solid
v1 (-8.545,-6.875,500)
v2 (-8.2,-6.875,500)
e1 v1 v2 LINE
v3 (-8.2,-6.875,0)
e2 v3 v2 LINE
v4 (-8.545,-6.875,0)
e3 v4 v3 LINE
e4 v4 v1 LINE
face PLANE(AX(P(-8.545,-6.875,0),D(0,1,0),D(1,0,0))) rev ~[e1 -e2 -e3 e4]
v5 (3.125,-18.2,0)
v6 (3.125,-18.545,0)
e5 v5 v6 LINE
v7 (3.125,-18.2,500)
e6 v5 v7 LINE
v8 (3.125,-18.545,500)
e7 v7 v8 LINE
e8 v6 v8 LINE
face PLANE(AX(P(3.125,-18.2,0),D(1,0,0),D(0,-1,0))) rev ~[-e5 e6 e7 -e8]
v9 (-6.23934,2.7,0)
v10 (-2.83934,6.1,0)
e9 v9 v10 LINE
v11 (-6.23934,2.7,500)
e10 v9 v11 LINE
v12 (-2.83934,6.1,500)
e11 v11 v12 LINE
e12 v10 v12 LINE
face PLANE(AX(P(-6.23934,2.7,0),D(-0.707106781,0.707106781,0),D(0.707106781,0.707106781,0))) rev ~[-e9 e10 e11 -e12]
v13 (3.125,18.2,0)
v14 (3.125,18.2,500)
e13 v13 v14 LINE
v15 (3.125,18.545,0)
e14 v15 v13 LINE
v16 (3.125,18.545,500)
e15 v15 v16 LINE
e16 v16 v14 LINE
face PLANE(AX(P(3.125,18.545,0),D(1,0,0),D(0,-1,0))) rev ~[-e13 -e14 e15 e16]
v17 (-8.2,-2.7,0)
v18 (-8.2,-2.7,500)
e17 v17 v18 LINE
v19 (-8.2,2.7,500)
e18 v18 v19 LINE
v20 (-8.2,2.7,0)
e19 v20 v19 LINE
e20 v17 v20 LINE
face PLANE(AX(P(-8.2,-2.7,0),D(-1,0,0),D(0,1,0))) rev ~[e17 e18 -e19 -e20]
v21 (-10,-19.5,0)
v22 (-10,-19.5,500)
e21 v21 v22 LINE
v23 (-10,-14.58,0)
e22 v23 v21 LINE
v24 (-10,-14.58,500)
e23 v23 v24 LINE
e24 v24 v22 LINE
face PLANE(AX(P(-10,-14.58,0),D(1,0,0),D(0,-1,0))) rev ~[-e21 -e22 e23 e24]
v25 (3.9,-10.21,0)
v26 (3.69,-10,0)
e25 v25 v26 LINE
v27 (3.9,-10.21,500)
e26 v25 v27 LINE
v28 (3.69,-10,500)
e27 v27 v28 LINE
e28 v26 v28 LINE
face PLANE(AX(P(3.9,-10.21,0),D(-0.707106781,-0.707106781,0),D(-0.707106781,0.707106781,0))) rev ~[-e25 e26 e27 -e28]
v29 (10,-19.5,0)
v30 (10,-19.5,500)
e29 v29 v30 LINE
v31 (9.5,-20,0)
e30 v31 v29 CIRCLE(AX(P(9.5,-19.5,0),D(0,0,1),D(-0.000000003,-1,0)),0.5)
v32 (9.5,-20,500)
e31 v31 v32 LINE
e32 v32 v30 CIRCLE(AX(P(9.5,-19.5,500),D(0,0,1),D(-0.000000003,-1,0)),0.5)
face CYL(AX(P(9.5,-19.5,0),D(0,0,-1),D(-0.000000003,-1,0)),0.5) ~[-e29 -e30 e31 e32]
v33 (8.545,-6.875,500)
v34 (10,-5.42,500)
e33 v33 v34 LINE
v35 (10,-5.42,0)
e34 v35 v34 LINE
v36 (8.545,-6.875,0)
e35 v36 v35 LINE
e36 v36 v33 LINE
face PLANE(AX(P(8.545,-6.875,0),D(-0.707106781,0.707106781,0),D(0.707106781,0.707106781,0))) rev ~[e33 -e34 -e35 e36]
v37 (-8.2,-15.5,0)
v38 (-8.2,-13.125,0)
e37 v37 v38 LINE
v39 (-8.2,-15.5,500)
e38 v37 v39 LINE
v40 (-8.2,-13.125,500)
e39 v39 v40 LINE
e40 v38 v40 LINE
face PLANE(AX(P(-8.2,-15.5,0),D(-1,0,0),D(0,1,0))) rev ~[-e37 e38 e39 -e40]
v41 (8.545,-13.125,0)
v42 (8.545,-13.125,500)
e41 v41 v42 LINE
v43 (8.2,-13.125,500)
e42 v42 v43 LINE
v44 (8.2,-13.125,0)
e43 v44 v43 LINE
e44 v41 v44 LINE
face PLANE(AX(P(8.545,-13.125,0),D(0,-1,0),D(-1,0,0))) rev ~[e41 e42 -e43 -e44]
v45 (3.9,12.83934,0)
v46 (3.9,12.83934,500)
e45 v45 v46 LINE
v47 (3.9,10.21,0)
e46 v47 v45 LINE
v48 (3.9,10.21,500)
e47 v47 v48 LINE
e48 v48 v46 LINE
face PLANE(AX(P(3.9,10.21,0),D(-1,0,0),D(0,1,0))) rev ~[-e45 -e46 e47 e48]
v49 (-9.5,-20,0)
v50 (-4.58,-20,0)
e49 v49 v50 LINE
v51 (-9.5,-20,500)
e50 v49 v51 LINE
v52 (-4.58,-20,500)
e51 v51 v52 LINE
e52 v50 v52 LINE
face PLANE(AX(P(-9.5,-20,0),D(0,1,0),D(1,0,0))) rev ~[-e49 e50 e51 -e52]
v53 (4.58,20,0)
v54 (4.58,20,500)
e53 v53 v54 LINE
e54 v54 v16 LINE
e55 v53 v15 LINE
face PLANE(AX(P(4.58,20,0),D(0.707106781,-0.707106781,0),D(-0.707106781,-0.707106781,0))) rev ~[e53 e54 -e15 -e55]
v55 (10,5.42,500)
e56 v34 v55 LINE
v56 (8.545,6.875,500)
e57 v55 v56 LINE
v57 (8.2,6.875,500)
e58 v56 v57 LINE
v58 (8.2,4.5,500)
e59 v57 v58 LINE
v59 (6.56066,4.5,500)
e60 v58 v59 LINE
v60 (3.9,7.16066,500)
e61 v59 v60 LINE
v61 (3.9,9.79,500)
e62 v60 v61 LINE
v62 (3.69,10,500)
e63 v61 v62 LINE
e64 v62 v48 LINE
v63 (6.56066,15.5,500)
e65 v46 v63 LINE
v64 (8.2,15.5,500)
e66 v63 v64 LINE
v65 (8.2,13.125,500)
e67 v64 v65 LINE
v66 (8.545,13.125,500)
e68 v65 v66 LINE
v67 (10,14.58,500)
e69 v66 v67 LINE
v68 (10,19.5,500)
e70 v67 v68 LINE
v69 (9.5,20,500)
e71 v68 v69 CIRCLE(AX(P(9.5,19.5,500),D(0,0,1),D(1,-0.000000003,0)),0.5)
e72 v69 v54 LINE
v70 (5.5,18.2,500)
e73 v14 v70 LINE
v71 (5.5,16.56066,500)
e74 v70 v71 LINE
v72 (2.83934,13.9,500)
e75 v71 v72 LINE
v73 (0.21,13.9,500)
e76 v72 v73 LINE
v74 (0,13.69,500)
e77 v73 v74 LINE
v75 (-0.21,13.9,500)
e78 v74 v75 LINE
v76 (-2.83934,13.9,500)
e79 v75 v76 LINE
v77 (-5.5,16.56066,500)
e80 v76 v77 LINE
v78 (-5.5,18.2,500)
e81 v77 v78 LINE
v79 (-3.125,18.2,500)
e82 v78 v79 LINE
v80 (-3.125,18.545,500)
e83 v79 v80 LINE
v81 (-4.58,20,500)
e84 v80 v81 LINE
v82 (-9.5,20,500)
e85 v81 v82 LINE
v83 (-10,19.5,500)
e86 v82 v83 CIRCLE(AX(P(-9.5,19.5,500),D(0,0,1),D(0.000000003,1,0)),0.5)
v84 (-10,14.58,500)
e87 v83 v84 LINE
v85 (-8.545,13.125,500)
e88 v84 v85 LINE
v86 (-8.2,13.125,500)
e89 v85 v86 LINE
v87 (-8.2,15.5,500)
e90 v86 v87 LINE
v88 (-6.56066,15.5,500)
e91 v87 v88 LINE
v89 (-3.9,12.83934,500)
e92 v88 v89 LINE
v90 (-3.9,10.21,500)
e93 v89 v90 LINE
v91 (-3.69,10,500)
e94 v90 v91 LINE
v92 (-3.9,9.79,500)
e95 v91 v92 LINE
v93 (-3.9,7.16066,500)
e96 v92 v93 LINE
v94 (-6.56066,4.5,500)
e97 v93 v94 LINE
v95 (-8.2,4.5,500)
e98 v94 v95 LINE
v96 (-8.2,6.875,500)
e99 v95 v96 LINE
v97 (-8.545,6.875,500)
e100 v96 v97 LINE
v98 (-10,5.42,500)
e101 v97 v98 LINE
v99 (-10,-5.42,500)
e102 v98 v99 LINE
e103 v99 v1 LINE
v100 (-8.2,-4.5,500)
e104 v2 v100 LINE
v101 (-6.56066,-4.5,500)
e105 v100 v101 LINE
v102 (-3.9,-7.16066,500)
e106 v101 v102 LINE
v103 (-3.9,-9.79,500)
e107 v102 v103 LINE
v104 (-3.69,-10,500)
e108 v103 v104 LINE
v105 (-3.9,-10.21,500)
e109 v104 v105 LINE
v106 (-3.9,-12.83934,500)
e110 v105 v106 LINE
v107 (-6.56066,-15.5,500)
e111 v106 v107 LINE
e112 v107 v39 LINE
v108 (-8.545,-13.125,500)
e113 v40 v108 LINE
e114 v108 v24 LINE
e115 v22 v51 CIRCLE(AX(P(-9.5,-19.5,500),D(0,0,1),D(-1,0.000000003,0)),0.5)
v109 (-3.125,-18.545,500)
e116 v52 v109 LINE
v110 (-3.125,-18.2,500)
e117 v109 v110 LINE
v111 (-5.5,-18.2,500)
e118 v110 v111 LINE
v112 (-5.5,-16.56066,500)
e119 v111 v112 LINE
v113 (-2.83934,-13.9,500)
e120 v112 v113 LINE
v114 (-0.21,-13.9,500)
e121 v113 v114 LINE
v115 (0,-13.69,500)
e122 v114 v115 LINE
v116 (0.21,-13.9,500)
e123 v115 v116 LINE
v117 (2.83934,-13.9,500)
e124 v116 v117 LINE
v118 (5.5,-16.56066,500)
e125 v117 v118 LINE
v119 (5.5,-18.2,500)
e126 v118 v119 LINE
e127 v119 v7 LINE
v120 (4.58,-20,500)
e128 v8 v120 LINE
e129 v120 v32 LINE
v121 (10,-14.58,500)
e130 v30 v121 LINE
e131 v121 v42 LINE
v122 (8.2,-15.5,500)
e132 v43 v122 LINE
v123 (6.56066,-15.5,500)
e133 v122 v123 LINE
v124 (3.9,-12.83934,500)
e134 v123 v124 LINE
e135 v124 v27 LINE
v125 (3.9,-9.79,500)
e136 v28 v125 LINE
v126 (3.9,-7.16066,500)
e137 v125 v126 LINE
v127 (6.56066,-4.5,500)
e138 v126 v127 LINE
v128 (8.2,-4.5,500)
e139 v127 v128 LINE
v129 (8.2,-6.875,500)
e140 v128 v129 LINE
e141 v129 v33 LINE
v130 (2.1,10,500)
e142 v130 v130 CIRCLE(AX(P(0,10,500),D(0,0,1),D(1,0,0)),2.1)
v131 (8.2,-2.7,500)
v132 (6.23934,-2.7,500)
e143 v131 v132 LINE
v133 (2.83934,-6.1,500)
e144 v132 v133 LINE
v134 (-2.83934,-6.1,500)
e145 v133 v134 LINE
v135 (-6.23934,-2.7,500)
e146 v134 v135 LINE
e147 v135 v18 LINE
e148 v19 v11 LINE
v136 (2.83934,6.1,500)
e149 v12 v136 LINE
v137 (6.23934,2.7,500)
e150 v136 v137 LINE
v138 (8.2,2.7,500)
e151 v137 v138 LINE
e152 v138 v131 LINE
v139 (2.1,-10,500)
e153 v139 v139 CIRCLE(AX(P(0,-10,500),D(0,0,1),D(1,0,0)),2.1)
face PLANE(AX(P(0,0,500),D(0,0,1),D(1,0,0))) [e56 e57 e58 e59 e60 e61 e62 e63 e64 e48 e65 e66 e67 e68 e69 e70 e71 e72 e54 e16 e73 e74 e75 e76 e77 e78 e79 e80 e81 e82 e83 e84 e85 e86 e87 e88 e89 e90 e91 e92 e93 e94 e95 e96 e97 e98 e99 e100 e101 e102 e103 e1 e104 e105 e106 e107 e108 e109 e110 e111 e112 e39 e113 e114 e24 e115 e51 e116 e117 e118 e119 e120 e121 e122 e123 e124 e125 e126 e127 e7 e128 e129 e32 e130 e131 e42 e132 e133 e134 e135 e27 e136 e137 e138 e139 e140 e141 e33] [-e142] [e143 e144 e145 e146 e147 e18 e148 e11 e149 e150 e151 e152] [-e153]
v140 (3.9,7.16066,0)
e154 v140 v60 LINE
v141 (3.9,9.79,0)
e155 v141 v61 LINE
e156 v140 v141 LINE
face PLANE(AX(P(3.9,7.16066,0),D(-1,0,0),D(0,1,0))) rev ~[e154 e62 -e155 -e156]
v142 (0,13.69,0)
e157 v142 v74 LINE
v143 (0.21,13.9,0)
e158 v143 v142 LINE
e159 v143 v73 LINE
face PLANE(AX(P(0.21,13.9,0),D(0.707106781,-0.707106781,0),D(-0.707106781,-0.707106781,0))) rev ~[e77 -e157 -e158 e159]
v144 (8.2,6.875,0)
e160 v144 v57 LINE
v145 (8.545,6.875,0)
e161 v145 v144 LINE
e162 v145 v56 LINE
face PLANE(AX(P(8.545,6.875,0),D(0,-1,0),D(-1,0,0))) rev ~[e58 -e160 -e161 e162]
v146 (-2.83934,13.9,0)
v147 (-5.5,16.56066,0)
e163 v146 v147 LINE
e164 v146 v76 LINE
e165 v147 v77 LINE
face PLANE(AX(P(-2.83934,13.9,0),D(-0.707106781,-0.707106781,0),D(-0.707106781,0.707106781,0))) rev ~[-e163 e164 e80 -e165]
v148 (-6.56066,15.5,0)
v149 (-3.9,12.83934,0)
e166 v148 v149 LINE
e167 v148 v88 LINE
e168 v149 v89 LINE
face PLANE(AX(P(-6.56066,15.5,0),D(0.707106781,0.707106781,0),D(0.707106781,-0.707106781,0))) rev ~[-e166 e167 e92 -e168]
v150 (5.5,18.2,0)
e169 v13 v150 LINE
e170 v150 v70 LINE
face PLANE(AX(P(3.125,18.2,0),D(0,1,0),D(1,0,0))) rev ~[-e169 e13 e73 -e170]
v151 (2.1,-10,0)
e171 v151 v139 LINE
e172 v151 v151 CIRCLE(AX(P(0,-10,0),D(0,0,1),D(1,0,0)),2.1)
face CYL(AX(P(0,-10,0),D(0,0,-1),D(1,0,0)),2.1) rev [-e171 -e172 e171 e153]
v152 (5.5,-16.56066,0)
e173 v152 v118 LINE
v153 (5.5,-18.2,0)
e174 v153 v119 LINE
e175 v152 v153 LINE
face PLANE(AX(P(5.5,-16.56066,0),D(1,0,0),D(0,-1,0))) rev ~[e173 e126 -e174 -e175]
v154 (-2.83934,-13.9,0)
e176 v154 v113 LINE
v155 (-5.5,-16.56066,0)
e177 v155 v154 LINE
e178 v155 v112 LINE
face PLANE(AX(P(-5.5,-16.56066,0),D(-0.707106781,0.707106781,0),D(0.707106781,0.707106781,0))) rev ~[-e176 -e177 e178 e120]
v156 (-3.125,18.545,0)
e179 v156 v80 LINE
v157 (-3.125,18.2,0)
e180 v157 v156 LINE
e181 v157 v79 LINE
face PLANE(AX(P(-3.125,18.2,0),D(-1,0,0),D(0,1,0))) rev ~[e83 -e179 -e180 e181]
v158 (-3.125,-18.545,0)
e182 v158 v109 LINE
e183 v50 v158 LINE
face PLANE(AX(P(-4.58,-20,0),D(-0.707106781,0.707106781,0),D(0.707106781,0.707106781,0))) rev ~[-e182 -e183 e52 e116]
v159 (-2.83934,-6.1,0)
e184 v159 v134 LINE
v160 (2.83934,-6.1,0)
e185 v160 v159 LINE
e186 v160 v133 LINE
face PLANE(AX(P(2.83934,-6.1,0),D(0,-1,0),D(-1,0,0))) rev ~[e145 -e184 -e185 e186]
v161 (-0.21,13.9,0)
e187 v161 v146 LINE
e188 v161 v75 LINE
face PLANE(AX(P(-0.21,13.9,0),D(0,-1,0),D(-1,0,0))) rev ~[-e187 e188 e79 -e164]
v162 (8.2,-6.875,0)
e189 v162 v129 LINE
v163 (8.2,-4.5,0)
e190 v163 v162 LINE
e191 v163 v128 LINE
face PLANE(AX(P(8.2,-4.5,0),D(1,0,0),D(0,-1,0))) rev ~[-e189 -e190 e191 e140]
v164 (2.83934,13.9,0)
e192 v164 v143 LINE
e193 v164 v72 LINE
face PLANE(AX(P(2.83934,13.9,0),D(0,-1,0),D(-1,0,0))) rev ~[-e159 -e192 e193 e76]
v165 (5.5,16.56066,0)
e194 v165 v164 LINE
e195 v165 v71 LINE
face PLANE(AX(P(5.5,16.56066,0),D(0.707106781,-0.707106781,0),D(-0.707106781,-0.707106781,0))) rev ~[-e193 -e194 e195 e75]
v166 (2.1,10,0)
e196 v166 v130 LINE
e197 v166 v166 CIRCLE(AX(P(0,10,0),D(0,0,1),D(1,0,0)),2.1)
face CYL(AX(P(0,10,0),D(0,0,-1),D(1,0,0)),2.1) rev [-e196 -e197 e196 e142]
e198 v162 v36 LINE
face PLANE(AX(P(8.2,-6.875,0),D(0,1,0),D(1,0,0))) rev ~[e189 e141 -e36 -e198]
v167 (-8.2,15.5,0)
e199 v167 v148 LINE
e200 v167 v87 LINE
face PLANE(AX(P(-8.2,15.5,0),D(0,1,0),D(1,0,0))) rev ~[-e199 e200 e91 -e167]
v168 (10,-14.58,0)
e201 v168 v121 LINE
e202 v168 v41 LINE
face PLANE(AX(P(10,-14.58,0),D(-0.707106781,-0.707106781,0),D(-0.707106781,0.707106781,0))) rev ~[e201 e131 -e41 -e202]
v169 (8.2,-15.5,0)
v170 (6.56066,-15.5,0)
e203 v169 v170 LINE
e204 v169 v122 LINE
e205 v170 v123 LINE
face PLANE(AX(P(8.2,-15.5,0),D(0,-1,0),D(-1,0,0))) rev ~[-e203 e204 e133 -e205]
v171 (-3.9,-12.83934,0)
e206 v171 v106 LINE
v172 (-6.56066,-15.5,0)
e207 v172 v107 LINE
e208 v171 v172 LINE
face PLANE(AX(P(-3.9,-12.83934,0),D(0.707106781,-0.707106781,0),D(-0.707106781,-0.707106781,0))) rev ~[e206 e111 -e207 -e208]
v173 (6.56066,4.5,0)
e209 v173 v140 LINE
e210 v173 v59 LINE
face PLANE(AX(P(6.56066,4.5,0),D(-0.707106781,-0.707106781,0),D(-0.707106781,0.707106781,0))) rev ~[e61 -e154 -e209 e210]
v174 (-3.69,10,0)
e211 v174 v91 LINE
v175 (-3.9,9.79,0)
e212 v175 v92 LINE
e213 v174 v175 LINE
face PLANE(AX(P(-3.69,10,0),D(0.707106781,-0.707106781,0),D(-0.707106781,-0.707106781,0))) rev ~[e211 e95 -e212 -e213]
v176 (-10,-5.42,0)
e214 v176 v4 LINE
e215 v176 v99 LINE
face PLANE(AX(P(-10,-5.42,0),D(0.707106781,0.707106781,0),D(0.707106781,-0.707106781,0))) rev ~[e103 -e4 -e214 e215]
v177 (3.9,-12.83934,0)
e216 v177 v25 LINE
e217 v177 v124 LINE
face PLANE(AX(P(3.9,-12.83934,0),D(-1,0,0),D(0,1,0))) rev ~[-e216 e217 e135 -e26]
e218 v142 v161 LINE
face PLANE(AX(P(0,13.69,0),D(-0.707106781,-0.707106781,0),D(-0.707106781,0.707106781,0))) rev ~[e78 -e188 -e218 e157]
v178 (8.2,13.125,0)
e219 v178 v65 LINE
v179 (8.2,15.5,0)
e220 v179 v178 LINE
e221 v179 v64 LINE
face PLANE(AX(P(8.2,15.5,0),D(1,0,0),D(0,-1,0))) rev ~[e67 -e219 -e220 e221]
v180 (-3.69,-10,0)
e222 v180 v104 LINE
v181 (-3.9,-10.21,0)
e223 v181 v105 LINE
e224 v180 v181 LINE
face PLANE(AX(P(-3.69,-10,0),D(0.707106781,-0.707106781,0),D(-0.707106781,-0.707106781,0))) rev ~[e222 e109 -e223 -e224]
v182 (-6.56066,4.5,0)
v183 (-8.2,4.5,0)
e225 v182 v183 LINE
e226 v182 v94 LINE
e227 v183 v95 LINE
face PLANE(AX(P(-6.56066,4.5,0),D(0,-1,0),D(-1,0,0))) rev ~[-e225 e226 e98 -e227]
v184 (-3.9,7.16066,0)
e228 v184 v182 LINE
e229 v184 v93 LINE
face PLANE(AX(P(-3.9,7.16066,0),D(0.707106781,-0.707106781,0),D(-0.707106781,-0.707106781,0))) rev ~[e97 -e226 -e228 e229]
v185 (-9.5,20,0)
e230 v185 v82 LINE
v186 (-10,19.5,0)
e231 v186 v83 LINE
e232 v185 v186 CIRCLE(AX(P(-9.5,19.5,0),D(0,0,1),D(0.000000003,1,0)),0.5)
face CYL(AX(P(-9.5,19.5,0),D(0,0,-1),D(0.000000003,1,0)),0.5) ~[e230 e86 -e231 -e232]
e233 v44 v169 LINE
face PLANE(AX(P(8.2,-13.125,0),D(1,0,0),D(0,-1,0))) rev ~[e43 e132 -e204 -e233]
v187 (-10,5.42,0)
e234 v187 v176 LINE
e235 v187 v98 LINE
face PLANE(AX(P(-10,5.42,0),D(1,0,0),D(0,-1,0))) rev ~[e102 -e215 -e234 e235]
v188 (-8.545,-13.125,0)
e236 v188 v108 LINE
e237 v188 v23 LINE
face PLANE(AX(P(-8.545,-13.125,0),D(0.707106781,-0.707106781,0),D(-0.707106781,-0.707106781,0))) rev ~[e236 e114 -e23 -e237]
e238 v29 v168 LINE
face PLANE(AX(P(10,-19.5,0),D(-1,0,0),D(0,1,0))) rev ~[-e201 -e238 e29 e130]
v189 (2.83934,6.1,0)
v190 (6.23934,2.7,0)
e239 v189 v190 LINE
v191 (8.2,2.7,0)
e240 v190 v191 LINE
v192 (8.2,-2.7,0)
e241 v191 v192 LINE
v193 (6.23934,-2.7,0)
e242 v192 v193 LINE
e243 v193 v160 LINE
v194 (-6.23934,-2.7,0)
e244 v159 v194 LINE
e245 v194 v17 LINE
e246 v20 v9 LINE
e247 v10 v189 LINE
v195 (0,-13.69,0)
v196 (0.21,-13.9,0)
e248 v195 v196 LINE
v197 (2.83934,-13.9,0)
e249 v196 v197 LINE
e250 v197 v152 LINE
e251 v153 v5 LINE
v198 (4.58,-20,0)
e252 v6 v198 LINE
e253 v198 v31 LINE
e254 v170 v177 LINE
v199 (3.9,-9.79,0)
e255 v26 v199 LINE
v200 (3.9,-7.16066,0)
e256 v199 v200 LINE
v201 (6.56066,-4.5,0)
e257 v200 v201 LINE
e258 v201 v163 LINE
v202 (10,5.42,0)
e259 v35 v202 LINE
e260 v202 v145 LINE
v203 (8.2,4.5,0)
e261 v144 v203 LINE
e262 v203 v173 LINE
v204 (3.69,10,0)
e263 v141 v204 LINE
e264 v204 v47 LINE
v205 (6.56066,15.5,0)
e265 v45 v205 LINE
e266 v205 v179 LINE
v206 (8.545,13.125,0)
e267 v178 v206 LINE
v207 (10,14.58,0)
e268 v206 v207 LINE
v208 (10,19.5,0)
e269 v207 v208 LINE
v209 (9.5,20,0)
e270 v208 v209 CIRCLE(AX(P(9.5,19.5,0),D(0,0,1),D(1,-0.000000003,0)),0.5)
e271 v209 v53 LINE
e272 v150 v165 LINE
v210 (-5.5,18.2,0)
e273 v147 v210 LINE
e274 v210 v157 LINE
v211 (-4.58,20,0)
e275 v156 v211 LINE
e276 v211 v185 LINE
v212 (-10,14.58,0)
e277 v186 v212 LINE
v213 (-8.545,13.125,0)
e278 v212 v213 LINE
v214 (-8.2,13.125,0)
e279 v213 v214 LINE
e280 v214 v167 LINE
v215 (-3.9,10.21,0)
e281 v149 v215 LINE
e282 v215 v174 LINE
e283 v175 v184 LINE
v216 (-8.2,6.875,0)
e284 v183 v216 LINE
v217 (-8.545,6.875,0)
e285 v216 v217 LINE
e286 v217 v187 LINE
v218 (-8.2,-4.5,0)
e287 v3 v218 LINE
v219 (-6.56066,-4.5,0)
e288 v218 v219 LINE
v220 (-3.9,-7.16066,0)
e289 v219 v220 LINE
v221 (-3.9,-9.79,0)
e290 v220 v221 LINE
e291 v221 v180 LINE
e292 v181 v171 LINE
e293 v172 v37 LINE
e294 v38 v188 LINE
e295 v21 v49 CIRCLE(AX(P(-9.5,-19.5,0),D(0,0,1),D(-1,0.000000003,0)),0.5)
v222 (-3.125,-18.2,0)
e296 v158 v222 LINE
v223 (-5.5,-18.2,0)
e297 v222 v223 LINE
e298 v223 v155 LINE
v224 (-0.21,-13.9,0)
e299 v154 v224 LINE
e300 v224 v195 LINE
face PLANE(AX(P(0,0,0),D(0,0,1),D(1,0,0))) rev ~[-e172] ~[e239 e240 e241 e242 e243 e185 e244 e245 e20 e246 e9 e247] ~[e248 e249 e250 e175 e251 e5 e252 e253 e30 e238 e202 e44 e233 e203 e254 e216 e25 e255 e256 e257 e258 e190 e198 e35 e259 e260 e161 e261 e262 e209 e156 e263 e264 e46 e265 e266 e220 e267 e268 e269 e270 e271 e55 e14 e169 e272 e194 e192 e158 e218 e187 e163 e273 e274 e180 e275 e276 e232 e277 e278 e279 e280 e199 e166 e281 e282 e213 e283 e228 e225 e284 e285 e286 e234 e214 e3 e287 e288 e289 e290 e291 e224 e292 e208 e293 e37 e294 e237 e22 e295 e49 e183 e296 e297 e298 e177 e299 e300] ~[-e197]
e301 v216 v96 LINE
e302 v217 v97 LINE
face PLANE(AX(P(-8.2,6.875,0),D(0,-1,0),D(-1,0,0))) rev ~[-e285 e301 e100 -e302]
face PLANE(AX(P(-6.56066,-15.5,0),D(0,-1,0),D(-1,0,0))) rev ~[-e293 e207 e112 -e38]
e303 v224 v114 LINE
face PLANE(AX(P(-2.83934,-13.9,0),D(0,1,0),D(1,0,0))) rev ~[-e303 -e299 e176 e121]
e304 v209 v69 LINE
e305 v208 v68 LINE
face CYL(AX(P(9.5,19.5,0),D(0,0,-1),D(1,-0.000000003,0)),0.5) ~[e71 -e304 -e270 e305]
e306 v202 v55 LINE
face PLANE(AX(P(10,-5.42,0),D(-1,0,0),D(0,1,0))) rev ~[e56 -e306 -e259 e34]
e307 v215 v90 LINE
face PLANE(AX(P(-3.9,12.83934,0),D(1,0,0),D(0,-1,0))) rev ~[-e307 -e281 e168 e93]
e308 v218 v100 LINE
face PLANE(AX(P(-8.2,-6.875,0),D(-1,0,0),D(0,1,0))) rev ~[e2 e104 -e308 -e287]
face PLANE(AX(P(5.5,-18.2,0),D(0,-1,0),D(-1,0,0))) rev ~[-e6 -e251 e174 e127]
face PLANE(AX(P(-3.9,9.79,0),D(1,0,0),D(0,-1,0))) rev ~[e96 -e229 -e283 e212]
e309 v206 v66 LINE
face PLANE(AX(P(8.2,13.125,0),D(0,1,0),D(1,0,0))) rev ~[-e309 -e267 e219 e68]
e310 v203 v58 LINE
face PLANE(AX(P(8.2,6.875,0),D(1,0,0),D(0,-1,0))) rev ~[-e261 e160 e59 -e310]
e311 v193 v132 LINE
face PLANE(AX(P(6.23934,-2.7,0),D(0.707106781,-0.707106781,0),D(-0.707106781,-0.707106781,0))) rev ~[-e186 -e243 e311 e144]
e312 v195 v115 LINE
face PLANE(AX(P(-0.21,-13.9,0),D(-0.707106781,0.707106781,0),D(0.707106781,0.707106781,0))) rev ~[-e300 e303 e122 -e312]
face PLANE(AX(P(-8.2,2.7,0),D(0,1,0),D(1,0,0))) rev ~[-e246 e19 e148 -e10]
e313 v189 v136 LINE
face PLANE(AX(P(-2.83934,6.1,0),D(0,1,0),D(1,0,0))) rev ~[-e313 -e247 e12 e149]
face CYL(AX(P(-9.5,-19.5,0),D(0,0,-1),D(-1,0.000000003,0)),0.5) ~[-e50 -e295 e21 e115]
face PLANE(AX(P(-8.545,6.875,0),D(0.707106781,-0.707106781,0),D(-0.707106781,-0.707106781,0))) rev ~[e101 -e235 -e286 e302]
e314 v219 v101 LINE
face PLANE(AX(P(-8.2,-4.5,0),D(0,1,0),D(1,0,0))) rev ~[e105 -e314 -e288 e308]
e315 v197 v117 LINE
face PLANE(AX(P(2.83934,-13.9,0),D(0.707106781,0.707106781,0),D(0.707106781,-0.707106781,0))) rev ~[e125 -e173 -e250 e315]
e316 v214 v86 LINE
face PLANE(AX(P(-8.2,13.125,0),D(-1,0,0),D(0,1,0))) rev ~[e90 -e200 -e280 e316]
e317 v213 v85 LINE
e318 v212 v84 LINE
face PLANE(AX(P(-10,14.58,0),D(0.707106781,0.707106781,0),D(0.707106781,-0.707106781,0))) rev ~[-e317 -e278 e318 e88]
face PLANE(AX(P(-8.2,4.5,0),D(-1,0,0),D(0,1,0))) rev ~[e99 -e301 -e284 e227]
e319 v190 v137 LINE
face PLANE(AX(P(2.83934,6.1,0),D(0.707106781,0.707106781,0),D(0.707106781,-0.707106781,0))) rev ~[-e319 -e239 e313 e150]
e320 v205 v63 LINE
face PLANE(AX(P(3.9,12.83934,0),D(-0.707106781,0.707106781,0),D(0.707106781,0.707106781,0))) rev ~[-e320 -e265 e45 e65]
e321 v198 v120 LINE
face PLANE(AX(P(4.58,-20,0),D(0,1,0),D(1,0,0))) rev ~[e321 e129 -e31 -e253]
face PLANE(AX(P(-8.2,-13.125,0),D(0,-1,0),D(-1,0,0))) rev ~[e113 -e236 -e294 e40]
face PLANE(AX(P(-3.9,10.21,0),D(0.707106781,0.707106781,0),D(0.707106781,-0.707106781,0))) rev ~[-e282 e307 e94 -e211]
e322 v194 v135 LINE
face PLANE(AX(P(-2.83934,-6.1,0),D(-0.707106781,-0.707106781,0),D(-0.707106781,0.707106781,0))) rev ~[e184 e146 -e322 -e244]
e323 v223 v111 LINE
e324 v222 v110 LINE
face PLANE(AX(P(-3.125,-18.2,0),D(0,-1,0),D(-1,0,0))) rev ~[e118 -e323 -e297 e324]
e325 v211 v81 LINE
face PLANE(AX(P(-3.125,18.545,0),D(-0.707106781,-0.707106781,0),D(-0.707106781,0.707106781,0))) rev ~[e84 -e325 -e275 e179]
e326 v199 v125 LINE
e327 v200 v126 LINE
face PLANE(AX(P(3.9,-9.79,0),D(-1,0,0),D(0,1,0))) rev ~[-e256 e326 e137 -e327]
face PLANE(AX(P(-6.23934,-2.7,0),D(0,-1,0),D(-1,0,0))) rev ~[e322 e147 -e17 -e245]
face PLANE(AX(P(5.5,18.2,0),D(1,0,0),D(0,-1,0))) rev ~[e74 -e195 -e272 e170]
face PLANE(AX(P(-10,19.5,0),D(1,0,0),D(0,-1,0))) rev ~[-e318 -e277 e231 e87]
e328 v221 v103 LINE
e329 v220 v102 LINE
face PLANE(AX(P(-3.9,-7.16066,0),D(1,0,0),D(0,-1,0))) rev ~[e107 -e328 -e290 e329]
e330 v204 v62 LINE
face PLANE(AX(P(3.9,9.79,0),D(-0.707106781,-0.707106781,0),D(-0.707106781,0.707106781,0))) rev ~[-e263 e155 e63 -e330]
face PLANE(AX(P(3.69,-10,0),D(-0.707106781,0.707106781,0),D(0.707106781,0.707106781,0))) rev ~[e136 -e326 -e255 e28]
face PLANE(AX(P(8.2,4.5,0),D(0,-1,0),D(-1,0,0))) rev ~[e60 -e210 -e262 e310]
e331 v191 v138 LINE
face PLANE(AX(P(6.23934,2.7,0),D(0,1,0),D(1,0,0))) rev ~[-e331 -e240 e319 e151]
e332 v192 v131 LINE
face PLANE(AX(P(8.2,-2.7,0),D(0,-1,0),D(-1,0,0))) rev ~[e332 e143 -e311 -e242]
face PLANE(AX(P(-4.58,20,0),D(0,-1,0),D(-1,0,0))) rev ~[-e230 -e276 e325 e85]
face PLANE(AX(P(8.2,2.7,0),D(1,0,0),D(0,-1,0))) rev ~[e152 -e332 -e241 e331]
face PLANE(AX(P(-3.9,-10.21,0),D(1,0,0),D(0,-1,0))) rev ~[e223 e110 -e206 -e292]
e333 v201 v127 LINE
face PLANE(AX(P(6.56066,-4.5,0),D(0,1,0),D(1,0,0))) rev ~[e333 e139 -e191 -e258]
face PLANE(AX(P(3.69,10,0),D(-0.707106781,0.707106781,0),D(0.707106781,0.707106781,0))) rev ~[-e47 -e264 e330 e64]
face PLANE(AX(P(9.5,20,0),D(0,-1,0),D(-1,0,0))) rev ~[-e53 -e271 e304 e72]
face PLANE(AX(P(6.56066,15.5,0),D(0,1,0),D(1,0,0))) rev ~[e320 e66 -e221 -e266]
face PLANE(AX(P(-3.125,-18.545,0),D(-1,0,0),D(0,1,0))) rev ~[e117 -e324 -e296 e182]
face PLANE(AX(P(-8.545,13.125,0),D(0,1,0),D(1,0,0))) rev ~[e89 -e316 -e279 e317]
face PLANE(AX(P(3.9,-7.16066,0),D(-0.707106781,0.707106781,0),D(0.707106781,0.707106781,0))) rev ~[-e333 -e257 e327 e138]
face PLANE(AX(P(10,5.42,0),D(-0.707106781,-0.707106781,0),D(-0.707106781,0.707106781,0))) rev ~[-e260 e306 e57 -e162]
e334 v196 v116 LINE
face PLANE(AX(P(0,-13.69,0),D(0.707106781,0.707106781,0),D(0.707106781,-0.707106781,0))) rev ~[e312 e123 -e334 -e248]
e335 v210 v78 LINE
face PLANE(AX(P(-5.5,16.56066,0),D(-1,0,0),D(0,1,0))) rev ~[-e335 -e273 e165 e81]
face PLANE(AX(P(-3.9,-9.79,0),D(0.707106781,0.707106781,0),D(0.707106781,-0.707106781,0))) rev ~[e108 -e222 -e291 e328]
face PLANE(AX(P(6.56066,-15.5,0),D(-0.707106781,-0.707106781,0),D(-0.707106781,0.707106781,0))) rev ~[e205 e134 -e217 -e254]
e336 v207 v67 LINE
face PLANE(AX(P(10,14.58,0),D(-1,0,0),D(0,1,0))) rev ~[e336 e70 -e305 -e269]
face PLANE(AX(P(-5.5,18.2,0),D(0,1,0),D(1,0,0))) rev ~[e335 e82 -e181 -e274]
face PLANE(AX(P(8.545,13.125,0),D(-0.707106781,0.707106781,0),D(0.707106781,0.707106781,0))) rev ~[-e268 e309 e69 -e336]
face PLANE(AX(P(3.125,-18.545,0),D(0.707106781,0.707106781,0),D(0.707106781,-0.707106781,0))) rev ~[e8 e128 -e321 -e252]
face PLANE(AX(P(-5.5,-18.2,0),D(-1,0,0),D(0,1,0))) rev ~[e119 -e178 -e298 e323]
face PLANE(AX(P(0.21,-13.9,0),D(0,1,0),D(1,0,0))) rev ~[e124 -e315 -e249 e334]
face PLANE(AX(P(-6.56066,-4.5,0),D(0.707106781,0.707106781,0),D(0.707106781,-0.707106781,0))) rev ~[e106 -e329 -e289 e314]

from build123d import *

# Parameters (mm, degrees)
SKETCH1_R           = 2.1
BOSS_EXTRUDE1_DEPTH = 500


with BuildPart() as part:
    # Sketch1 → Boss-Extrude1 (new body)
    with BuildSketch(Plane.XY):
        with BuildLine():
            Line((4.58, -20), (9.5, -20))
            ThreePointArc((9.5, -20), (9.853553391, -19.853553391), (10, -19.5))
            Line((10, -19.5), (10, -14.58))
            Line((10, -14.58), (8.545, -13.125))
            Line((8.545, -13.125), (8.2, -13.125))
            Line((8.2, -13.125), (8.2, -15.5))
            Line((8.2, -15.5), (6.560660172, -15.5))
            Line((6.560660172, -15.5), (3.9, -12.839339828))
            Line((3.9, -12.839339828), (3.9, -10.21))
            Line((3.9, -10.21), (3.69, -10))
            Line((3.69, -10), (3.9, -9.79))
            Line((3.9, -9.79), (3.9, -7.160660172))
            Line((3.9, -7.160660172), (6.560660172, -4.5))
            Line((6.560660172, -4.5), (8.2, -4.5))
            Line((8.2, -4.5), (8.2, -6.875))
            Line((8.2, -6.875), (8.545, -6.875))
            Line((8.545, -6.875), (10, -5.42))
            Line((10, -5.42), (10, 5.42))
            Line((10, 5.42), (8.545, 6.875))
            Line((8.545, 6.875), (8.2, 6.875))
            Line((8.2, 6.875), (8.2, 4.5))
            Line((8.2, 4.5), (6.560660172, 4.5))
            Line((6.560660172, 4.5), (3.9, 7.160660172))
            Line((3.9, 7.160660172), (3.9, 9.79))
            Line((3.9, 9.79), (3.69, 10))
            Line((3.69, 10), (3.9, 10.21))
            Line((3.9, 10.21), (3.9, 12.839339828))
            Line((3.9, 12.839339828), (6.560660172, 15.5))
            Line((6.560660172, 15.5), (8.2, 15.5))
            Line((8.2, 15.5), (8.2, 13.125))
            Line((8.2, 13.125), (8.545, 13.125))
            Line((8.545, 13.125), (10, 14.58))
            Line((10, 14.58), (10, 19.5))
            ThreePointArc((10, 19.5), (9.853553391, 19.853553391), (9.5, 20))
            Line((9.5, 20), (4.58, 20))
            Line((4.58, 20), (3.125, 18.545))
            Line((3.125, 18.545), (3.125, 18.2))
            Line((3.125, 18.2), (5.5, 18.2))
            Line((5.5, 18.2), (5.5, 16.560660172))
            Line((5.5, 16.560660172), (2.839339828, 13.9))
            Line((2.839339828, 13.9), (0.21, 13.9))
            Line((0.21, 13.9), (0, 13.69))
            Line((0, 13.69), (-0.21, 13.9))
            Line((-0.21, 13.9), (-2.839339828, 13.9))
            Line((-2.839339828, 13.9), (-5.5, 16.560660172))
            Line((-5.5, 16.560660172), (-5.5, 18.2))
            Line((-5.5, 18.2), (-3.125, 18.2))
            Line((-3.125, 18.2), (-3.125, 18.545))
            Line((-3.125, 18.545), (-4.58, 20))
            Line((-4.58, 20), (-9.5, 20))
            ThreePointArc((-9.5, 20), (-9.853553391, 19.853553391), (-10, 19.5))
            Line((-10, 19.5), (-10, 14.58))
            Line((-10, 14.58), (-8.545, 13.125))
            Line((-8.545, 13.125), (-8.2, 13.125))
            Line((-8.2, 13.125), (-8.2, 15.5))
            Line((-8.2, 15.5), (-6.560660172, 15.5))
            Line((-6.560660172, 15.5), (-3.9, 12.839339828))
            Line((-3.9, 12.839339828), (-3.9, 10.21))
            Line((-3.9, 10.21), (-3.69, 10))
            Line((-3.69, 10), (-3.9, 9.79))
            Line((-3.9, 9.79), (-3.9, 7.160660172))
            Line((-3.9, 7.160660172), (-6.560660172, 4.5))
            Line((-6.560660172, 4.5), (-8.2, 4.5))
            Line((-8.2, 4.5), (-8.2, 6.875))
            Line((-8.2, 6.875), (-8.545, 6.875))
            Line((-8.545, 6.875), (-10, 5.42))
            Line((-10, 5.42), (-10, -5.42))
            Line((-10, -5.42), (-8.545, -6.875))
            Line((-8.545, -6.875), (-8.2, -6.875))
            Line((-8.2, -6.875), (-8.2, -4.5))
            Line((-8.2, -4.5), (-6.560660172, -4.5))
            Line((-6.560660172, -4.5), (-3.9, -7.160660172))
            Line((-3.9, -7.160660172), (-3.9, -9.79))
            Line((-3.9, -9.79), (-3.69, -10))
            Line((-3.69, -10), (-3.9, -10.21))
            Line((-3.9, -10.21), (-3.9, -12.839339828))
            Line((-3.9, -12.839339828), (-6.560660172, -15.5))
            Line((-6.560660172, -15.5), (-8.2, -15.5))
            Line((-8.2, -15.5), (-8.2, -13.125))
            Line((-8.2, -13.125), (-8.545, -13.125))
            Line((-8.545, -13.125), (-10, -14.58))
            Line((-10, -14.58), (-10, -19.5))
            ThreePointArc((-10, -19.5), (-9.853553391, -19.853553391), (-9.5, -20))
            Line((-9.5, -20), (-4.58, -20))
            Line((-4.58, -20), (-3.125, -18.545))
            Line((-3.125, -18.545), (-3.125, -18.2))
            Line((-3.125, -18.2), (-5.5, -18.2))
            Line((-5.5, -18.2), (-5.5, -16.560660172))
            Line((-5.5, -16.560660172), (-2.839339828, -13.9))
            Line((-2.839339828, -13.9), (-0.21, -13.9))
            Line((-0.21, -13.9), (0, -13.69))
            Line((0, -13.69), (0.21, -13.9))
            Line((0.21, -13.9), (2.839339828, -13.9))
            Line((2.839339828, -13.9), (5.5, -16.560660172))
            Line((5.5, -16.560660172), (5.5, -18.2))
            Line((5.5, -18.2), (3.125, -18.2))
            Line((3.125, -18.2), (3.125, -18.545))
            Line((3.125, -18.545), (4.58, -20))
        make_face()
        with Locations((0, -10)):
            Circle(SKETCH1_R, mode=Mode.SUBTRACT)
        Polygon((-6.239339828, -2.7), (-8.2, -2.7), (-8.2, 2.7), (-6.239339828, 2.7), (-2.839339828, 6.1), (2.839339828, 6.1), (6.239339828, 2.7), (8.2, 2.7), (8.2, -2.7), (6.239339828, -2.7), (2.839339828, -6.1), (-2.839339828, -6.1), align=None, mode=Mode.SUBTRACT)
        with Locations((0, 10)):
            Circle(SKETCH1_R, mode=Mode.SUBTRACT)
    extrude(amount=BOSS_EXTRUDE1_DEPTH)


solid = part.part
